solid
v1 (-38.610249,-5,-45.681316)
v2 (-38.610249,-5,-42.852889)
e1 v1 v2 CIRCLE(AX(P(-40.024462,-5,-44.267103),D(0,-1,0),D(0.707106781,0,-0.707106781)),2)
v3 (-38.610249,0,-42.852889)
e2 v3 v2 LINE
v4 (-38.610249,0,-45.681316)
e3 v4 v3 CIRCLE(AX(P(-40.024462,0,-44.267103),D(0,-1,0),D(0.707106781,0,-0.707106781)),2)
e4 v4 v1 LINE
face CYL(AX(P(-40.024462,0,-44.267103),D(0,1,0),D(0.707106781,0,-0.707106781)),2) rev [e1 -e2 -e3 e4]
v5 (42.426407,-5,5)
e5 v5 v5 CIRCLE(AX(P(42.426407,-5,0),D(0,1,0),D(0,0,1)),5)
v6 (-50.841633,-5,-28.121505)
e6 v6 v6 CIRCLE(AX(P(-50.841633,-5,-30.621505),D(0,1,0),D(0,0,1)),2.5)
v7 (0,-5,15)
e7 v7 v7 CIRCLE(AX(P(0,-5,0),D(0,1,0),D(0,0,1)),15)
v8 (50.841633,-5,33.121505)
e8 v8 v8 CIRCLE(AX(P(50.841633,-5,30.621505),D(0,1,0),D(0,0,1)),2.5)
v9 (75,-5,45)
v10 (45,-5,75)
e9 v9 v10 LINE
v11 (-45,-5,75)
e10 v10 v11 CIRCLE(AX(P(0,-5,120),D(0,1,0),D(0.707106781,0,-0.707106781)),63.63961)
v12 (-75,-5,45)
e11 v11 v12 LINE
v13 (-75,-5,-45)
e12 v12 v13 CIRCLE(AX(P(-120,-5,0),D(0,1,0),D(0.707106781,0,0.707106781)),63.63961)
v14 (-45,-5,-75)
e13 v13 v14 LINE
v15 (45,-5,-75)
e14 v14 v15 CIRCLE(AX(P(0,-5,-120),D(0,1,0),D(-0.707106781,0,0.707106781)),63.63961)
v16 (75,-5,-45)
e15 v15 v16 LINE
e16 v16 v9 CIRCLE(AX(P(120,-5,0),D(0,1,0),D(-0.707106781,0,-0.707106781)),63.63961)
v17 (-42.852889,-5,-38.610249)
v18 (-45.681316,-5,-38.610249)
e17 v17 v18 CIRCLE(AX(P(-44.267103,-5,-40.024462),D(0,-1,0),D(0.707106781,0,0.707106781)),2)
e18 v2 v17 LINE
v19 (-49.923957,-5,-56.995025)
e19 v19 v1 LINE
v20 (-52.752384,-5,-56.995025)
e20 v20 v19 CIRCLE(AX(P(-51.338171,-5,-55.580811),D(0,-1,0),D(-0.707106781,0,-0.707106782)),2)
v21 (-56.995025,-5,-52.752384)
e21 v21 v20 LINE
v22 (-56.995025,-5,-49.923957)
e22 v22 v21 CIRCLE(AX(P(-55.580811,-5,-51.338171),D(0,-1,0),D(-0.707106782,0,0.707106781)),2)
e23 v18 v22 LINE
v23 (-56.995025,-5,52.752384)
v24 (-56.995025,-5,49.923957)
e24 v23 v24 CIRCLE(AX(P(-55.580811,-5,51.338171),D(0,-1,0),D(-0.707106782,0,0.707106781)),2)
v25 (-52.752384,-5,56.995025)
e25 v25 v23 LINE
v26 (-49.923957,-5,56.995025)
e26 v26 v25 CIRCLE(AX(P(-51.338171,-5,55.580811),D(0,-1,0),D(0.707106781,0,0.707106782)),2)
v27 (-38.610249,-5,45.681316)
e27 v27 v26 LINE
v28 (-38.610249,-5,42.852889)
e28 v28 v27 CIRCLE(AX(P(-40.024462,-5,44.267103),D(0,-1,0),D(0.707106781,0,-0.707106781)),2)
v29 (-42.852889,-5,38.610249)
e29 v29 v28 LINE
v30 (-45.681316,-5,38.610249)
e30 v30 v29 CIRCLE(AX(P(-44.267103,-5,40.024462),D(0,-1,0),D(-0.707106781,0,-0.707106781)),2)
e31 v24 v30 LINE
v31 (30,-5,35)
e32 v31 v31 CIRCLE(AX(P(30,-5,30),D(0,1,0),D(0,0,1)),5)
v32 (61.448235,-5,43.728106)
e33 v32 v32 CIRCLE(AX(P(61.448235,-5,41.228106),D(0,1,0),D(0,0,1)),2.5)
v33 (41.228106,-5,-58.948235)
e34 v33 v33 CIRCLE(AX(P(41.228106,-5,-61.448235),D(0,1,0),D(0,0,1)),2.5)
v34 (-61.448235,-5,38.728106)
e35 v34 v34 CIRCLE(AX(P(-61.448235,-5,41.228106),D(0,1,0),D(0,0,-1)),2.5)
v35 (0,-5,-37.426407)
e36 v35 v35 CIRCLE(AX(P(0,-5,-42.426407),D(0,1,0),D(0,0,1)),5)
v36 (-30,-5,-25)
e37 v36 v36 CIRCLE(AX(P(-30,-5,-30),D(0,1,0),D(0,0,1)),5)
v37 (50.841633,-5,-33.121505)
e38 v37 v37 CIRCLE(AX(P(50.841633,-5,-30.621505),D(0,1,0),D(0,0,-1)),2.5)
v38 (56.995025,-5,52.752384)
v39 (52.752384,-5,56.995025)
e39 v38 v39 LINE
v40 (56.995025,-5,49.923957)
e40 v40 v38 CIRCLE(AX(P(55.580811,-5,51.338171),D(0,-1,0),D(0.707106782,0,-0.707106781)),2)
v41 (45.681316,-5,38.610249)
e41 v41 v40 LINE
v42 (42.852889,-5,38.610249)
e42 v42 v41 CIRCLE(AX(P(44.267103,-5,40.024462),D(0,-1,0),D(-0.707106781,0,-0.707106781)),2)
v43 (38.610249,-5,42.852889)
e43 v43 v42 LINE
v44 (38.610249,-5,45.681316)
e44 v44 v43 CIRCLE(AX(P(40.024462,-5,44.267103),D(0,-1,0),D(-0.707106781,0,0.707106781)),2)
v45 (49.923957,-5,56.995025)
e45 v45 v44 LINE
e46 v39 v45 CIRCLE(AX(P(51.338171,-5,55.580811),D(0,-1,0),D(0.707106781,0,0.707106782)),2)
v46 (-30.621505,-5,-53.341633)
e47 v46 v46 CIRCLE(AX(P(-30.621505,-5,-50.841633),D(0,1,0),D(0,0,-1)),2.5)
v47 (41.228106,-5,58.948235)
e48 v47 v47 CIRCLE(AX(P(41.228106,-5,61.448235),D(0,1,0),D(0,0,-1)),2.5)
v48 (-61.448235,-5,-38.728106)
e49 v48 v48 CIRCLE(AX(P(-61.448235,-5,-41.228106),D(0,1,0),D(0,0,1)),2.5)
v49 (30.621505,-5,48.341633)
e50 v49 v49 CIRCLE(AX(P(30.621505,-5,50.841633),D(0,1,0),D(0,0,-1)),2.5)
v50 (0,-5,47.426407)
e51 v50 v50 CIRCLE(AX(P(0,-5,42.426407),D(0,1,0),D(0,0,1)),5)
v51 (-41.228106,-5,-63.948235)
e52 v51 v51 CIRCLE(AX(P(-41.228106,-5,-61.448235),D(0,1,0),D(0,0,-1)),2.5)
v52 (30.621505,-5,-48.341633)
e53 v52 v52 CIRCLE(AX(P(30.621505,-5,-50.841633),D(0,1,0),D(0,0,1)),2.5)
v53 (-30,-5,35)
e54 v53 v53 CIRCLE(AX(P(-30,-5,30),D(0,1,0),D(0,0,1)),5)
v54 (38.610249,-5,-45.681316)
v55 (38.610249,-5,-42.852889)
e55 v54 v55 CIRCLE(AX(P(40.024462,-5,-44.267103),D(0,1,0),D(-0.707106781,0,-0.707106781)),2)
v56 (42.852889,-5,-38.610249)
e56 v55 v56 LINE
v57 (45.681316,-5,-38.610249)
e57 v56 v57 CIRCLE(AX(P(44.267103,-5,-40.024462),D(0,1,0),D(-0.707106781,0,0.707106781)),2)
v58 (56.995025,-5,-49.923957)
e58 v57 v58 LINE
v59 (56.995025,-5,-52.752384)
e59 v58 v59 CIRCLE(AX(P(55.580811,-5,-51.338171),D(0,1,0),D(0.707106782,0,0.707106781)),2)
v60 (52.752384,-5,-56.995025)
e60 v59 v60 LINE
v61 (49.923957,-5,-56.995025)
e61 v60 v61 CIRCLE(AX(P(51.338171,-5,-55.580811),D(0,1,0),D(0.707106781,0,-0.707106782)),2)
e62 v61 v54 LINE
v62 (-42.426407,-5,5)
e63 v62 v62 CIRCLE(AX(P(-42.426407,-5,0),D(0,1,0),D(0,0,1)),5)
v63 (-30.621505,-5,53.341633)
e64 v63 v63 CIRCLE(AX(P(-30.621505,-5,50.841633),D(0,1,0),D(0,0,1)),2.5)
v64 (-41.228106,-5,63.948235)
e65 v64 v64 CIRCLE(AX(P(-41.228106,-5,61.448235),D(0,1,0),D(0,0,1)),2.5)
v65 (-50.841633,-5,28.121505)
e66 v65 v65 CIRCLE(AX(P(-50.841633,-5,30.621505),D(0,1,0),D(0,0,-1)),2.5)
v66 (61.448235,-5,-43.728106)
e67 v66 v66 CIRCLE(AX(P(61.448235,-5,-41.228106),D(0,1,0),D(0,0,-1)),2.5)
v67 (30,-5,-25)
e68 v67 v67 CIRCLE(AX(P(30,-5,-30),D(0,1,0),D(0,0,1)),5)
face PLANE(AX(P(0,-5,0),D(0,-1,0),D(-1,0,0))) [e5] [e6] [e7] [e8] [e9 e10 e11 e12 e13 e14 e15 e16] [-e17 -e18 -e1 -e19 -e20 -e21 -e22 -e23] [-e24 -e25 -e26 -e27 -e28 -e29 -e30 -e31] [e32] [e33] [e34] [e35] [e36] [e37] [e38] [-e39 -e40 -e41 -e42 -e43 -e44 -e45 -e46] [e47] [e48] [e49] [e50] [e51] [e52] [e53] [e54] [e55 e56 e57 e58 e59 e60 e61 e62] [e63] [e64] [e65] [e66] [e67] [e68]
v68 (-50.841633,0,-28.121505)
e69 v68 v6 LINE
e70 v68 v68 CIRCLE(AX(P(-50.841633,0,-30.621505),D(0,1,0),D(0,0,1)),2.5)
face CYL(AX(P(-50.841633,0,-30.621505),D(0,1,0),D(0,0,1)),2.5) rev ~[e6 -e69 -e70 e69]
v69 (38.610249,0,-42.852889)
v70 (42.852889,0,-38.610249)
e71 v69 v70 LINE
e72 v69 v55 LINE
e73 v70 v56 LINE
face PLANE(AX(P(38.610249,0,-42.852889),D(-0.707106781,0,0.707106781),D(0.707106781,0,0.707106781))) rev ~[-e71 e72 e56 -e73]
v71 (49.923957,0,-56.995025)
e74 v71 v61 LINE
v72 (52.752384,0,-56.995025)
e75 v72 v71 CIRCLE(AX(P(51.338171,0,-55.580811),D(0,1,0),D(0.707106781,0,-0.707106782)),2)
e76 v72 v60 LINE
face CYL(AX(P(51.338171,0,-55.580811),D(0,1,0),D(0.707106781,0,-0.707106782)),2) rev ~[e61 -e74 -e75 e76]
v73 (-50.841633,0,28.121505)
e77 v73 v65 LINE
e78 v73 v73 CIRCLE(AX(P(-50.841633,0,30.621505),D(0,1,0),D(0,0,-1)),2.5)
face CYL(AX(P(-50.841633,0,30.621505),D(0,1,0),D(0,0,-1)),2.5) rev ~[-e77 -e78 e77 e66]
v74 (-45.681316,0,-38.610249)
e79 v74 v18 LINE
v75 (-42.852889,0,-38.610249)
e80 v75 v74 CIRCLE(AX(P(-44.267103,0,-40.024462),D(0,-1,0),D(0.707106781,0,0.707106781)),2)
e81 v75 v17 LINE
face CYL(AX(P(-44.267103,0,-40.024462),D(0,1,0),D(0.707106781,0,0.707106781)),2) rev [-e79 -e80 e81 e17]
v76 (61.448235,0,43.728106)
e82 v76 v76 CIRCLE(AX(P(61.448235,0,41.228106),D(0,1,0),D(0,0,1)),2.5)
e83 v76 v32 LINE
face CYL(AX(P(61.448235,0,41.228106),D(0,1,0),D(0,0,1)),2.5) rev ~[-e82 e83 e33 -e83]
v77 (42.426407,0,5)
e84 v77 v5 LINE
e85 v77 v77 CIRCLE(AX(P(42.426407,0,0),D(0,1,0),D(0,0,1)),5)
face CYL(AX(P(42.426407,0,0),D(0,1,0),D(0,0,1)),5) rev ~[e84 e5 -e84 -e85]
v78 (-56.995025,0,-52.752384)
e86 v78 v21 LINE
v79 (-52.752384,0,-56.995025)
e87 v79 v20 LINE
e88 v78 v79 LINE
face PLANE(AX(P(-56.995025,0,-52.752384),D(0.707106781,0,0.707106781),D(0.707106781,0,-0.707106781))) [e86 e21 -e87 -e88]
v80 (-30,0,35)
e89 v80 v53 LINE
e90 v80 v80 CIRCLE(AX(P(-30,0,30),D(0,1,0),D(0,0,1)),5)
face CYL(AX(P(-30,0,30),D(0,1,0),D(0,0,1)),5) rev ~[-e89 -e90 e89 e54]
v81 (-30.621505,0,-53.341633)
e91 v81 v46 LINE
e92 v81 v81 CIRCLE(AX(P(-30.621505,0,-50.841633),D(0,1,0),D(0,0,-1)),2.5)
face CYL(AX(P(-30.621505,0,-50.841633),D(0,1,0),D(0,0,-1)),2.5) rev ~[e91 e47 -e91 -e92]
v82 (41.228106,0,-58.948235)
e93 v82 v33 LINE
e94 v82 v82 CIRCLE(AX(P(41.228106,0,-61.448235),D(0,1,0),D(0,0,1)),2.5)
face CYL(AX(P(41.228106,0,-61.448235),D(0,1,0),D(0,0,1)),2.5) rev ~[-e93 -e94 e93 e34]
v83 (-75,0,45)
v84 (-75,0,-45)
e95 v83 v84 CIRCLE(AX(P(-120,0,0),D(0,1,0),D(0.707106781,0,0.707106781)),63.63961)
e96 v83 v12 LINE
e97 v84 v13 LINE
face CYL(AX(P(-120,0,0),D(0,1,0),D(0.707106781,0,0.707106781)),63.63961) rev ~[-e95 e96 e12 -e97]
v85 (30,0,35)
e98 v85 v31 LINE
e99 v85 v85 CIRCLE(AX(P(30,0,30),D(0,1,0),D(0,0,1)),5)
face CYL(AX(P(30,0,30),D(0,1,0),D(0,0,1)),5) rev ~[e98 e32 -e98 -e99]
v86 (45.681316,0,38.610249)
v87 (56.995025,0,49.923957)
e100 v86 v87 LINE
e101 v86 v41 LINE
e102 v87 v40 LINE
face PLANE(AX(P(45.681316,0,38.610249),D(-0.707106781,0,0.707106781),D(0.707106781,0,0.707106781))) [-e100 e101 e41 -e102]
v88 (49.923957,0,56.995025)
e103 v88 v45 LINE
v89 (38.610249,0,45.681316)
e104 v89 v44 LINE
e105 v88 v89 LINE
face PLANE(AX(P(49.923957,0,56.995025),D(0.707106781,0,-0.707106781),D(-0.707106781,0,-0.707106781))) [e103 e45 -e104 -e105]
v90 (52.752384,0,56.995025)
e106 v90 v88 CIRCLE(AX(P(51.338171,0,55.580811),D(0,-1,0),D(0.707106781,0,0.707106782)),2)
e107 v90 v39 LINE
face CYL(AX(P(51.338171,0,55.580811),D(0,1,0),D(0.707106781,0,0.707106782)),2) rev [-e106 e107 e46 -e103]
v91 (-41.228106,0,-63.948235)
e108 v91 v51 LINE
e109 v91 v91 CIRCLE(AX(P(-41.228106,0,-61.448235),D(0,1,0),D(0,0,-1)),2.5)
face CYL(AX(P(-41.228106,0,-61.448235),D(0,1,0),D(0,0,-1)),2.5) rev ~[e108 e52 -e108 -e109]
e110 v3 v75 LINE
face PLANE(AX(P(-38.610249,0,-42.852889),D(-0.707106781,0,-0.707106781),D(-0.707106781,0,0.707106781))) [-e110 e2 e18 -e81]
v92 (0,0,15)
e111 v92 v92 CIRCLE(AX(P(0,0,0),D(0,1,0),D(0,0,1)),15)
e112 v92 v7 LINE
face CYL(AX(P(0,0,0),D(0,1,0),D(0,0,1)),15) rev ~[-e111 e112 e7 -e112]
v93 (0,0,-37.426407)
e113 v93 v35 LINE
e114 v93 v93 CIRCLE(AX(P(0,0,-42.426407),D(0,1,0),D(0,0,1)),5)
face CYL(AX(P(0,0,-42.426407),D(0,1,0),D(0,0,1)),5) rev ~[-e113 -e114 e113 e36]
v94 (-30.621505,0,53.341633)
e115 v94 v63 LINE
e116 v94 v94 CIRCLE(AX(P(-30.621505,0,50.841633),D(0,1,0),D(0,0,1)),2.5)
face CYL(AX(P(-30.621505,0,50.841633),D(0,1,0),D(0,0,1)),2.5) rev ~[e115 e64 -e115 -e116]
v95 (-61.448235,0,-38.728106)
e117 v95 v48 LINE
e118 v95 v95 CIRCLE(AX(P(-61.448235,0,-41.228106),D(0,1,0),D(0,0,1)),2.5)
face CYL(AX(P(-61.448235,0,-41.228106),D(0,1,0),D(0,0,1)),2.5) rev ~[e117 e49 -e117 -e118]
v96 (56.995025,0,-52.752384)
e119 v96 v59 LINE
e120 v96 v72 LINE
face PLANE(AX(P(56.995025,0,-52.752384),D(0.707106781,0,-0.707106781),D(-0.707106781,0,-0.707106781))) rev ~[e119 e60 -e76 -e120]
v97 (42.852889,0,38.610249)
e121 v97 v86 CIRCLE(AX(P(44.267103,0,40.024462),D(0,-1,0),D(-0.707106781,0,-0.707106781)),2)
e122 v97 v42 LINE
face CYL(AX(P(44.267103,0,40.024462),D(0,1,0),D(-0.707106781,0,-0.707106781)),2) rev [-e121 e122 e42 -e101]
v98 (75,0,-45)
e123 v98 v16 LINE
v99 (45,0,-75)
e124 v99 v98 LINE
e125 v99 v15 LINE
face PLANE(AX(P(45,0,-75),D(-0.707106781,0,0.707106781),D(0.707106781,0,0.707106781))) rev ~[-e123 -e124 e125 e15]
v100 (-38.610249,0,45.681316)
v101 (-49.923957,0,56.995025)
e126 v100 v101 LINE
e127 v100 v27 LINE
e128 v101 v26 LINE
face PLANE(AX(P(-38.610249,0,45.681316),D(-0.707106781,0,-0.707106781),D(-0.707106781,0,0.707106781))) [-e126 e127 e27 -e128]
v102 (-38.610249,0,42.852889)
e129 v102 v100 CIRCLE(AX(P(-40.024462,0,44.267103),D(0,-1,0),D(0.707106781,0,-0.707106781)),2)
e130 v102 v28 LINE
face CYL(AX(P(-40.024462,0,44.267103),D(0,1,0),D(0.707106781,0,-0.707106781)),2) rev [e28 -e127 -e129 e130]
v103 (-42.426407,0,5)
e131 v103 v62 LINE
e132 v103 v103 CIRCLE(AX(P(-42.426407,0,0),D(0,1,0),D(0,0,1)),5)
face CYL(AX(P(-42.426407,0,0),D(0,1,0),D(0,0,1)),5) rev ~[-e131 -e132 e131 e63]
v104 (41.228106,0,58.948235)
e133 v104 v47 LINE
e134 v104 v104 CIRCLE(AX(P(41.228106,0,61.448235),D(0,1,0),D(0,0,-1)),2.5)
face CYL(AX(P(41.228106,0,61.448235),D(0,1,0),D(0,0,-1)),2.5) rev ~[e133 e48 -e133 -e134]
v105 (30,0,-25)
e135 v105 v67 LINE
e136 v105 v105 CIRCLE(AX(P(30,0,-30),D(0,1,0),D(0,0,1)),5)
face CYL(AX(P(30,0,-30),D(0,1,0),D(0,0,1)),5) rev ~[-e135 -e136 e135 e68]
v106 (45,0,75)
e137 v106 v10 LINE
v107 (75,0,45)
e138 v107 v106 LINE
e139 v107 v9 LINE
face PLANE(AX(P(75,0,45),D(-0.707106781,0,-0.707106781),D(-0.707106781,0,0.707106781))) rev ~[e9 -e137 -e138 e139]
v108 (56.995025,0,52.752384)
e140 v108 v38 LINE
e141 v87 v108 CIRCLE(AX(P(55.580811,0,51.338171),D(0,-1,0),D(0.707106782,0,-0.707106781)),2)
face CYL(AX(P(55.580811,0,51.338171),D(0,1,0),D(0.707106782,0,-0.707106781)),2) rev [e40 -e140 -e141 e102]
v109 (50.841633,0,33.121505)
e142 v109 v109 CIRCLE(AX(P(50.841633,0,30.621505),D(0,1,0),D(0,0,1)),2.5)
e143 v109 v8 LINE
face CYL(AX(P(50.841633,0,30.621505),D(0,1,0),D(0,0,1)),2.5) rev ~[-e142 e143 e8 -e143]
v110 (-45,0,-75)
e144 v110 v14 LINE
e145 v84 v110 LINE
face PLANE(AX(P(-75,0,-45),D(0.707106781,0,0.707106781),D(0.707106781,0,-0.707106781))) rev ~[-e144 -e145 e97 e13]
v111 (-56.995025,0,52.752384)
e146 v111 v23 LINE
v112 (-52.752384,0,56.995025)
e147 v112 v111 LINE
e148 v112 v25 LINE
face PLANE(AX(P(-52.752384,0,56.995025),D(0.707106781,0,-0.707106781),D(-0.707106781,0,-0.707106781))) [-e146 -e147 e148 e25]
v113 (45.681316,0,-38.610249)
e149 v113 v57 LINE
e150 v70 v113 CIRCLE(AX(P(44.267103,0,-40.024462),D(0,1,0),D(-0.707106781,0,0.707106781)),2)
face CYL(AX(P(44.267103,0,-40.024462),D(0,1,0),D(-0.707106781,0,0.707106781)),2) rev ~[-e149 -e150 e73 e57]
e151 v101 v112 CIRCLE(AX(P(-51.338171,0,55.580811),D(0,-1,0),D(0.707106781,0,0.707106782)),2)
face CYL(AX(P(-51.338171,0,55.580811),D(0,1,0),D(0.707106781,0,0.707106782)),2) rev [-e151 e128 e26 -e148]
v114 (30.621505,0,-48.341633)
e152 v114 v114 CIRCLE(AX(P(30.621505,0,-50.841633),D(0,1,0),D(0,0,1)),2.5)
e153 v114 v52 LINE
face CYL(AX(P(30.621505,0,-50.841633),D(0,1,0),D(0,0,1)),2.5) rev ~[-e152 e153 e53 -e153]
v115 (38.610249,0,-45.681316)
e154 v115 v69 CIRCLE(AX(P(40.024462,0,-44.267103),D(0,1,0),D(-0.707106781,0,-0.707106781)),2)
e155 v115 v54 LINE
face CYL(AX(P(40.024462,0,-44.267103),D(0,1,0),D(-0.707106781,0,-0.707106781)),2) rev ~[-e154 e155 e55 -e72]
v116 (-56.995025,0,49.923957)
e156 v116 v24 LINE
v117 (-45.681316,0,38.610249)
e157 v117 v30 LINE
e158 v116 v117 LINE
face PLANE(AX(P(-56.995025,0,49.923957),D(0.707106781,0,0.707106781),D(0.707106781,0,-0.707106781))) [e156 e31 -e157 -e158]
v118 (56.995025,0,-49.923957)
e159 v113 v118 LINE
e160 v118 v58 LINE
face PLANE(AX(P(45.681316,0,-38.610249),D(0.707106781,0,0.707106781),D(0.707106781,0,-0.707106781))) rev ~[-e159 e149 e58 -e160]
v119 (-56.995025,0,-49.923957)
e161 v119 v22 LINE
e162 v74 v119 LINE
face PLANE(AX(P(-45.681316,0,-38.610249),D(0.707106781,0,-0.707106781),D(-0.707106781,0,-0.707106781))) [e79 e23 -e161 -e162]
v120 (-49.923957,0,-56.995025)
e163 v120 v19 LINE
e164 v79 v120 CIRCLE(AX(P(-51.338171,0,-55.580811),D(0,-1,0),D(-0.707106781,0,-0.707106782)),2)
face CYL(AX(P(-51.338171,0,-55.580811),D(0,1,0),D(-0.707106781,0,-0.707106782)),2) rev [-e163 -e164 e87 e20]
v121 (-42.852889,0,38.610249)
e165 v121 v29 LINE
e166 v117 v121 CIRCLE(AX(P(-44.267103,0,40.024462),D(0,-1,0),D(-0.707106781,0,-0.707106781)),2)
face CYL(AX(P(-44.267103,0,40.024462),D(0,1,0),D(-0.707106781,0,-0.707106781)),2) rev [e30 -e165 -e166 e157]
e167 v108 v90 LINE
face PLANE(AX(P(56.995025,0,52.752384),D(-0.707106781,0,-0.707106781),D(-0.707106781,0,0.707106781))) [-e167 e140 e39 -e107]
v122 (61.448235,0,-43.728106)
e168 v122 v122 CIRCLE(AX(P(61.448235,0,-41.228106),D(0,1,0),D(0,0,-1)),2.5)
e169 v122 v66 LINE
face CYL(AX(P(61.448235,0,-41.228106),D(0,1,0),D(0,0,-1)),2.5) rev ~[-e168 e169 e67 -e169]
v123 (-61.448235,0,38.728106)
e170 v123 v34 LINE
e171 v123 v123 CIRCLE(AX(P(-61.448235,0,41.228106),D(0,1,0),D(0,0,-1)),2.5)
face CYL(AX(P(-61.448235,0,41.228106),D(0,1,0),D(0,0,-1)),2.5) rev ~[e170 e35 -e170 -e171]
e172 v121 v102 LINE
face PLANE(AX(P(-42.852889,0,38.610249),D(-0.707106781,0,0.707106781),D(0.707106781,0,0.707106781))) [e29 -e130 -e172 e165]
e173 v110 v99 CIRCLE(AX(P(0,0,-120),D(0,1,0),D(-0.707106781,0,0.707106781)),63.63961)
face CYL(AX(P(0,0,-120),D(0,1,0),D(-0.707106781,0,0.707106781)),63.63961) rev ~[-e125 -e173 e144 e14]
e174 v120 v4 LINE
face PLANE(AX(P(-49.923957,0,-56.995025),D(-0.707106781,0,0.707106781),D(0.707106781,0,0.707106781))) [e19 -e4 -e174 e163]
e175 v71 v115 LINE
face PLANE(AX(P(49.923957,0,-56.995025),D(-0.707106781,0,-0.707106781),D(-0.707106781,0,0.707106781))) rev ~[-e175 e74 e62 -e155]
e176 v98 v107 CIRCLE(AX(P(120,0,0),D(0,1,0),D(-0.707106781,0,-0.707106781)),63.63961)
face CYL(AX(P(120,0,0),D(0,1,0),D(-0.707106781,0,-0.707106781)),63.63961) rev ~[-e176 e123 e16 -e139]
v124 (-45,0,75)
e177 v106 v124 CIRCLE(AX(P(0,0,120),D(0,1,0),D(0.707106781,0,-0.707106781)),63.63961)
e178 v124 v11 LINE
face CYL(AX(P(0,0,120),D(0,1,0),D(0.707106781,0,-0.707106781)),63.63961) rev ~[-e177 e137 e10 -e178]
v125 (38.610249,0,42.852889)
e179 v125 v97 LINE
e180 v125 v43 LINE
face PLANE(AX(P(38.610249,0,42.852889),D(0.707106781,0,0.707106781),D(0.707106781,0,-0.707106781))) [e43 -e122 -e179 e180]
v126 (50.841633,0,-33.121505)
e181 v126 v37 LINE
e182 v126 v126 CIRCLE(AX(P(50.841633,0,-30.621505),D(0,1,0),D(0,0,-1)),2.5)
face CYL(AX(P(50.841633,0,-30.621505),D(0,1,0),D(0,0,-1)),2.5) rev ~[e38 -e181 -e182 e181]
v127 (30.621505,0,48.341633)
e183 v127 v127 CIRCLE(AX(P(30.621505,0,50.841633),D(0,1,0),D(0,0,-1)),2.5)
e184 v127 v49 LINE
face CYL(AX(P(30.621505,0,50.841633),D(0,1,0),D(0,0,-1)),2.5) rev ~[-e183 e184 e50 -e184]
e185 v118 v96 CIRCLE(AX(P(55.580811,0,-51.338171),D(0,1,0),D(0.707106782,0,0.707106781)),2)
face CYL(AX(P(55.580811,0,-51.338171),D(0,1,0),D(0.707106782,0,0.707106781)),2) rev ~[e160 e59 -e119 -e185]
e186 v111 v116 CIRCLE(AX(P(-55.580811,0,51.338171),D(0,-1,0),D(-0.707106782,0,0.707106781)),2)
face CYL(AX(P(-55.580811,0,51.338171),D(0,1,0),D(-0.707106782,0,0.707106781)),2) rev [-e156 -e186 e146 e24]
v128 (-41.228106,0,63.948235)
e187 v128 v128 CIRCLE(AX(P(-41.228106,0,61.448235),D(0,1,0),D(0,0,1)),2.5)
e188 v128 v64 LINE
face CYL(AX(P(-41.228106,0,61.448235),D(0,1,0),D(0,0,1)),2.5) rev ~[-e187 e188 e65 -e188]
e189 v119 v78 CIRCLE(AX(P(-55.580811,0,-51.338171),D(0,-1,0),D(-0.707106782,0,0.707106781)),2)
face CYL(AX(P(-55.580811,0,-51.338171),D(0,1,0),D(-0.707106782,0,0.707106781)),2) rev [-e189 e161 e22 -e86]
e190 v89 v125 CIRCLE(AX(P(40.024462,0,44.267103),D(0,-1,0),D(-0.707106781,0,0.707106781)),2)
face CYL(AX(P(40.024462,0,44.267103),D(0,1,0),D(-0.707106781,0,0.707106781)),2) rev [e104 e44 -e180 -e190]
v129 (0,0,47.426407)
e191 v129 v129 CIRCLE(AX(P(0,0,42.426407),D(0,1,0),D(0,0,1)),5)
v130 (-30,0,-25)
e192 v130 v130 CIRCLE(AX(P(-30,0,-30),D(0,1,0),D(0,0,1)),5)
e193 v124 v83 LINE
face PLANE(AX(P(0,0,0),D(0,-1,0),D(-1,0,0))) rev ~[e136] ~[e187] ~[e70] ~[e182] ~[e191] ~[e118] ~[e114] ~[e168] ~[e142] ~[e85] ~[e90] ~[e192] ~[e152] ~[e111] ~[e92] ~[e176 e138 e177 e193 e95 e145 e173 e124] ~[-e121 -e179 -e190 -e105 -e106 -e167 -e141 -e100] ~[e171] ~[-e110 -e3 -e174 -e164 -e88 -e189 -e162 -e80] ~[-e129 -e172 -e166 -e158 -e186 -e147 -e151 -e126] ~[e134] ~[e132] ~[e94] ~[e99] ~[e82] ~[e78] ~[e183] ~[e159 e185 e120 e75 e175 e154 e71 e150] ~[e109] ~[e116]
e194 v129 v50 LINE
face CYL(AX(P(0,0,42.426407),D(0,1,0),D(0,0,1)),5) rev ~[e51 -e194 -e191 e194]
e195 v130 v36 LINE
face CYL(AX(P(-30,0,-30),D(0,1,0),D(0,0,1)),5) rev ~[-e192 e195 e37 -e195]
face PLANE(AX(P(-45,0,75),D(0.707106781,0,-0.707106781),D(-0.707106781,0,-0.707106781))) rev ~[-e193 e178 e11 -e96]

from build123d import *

# Parameters (mm, degrees)
SKETCH2_R           = 15
SKETCH2_R_2         = 5
SKETCH2_R_3         = 2.5
BOSS_EXTRUDE1_DEPTH = 5


with BuildPart() as part:
    # Sketch2 → Boss-Extrude1 (new body)
    with BuildSketch(Plane(origin=(0, 0, 0), x_dir=(1, 0, 0), z_dir=(0, 1, 0))):
        with BuildLine():
            Line((45, 75), (75, 45))
            ThreePointArc((75, 45), (56.360389693, 0), (75, -45))
            Line((75, -45), (45, -75))
            ThreePointArc((45, -75), (0, -56.360389693), (-45, -75))
            Line((-45, -75), (-75, -45))
            ThreePointArc((-75, -45), (-56.360389693, 0), (-75, 45))
            Line((-75, 45), (-45, 75))
            ThreePointArc((-45, 75), (0, 56.360389693), (45, 75))
        make_face()
        with Locations(Location((0, 0, 0), (0, 0, 270))):
            Circle(SKETCH2_R, mode=Mode.SUBTRACT)
        with Locations(Location((30, 30, 0), (0, 0, 270))):
            Circle(SKETCH2_R_2, mode=Mode.SUBTRACT)
        with Locations(Location((42.426406871, 0, 0), (0, 0, 270))):
            Circle(SKETCH2_R_2, mode=Mode.SUBTRACT)
        with Locations(Location((30, -30, 0), (0, 0, 270))):
            Circle(SKETCH2_R_2, mode=Mode.SUBTRACT)
        with Locations(Location((0, -42.426406871, 0), (0, 0, 270))):
            Circle(SKETCH2_R_2, mode=Mode.SUBTRACT)
        with Locations(Location((-30, -30, 0), (0, 0, 270))):
            Circle(SKETCH2_R_2, mode=Mode.SUBTRACT)
        with Locations(Location((-42.426406871, 0, 0), (0, 0, 270))):
            Circle(SKETCH2_R_2, mode=Mode.SUBTRACT)
        with Locations(Location((-30, 30, 0), (0, 0, 270))):
            Circle(SKETCH2_R_2, mode=Mode.SUBTRACT)
        with Locations(Location((0, 42.426406871, 0), (0, 0, 270))):
            Circle(SKETCH2_R_2, mode=Mode.SUBTRACT)
        with Locations(Location((41.228106405, 61.448235065, 0), (0, 0, 270))):
            Circle(SKETCH2_R_3, mode=Mode.SUBTRACT)
        with Locations(Location((30.621504688, 50.841633347, 0), (0, 0, 270))):
            Circle(SKETCH2_R_3, mode=Mode.SUBTRACT)
        with Locations(Location((61.448235065, 41.228106405, 0), (0, 0, 90))):
            Circle(SKETCH2_R_3, mode=Mode.SUBTRACT)
        with Locations(Location((50.841633347, 30.621504688, 0), (0, 0, 90))):
            Circle(SKETCH2_R_3, mode=Mode.SUBTRACT)
        with Locations(Location((61.448235065, -41.228106405, 0), (0, 0, 270))):
            Circle(SKETCH2_R_3, mode=Mode.SUBTRACT)
        with Locations(Location((50.841633347, -30.621504688, 0), (0, 0, 270))):
            Circle(SKETCH2_R_3, mode=Mode.SUBTRACT)
        with Locations(Location((41.228106405, -61.448235065, 0), (0, 0, 90))):
            Circle(SKETCH2_R_3, mode=Mode.SUBTRACT)
        with Locations(Location((30.621504688, -50.841633347, 0), (0, 0, 90))):
            Circle(SKETCH2_R_3, mode=Mode.SUBTRACT)
        with Locations(Location((-41.228106405, -61.448235065, 0), (0, 0, 270))):
            Circle(SKETCH2_R_3, mode=Mode.SUBTRACT)
        with Locations(Location((-30.621504688, -50.841633347, 0), (0, 0, 270))):
            Circle(SKETCH2_R_3, mode=Mode.SUBTRACT)
        with Locations(Location((-61.448235065, -41.228106405, 0), (0, 0, 90))):
            Circle(SKETCH2_R_3, mode=Mode.SUBTRACT)
        with Locations(Location((-50.841633347, -30.621504688, 0), (0, 0, 90))):
            Circle(SKETCH2_R_3, mode=Mode.SUBTRACT)
        with Locations(Location((-61.448235065, 41.228106405, 0), (0, 0, 270))):
            Circle(SKETCH2_R_3, mode=Mode.SUBTRACT)
        with Locations(Location((-50.841633347, 30.621504688, 0), (0, 0, 270))):
            Circle(SKETCH2_R_3, mode=Mode.SUBTRACT)
        with Locations(Location((-41.228106405, 61.448235065, 0), (0, 0, 90))):
            Circle(SKETCH2_R_3, mode=Mode.SUBTRACT)
        with Locations(Location((-30.621504688, 50.841633347, 0), (0, 0, 90))):
            Circle(SKETCH2_R_3, mode=Mode.SUBTRACT)
        with BuildLine():
            Line((38.610248674, 42.852889361), (42.852889361, 38.610248674))
            ThreePointArc((42.852889361, 38.610248674), (44.267102923, 38.024462236), (45.681316486, 38.610248674))
            Line((45.681316486, 38.610248674), (56.995024985, 49.923957173))
            ThreePointArc((56.995024985, 49.923957173), (57.580811422, 51.338170735), (56.995024985, 52.752384297))
            Line((56.995024985, 52.752384297), (52.752384297, 56.995024985))
            ThreePointArc((52.752384297, 56.995024985), (51.338170735, 57.580811422), (49.923957173, 56.995024985))
            Line((49.923957173, 56.995024985), (38.610248674, 45.681316486))
            ThreePointArc((38.610248674, 45.681316486), (38.024462236, 44.267102923), (38.610248674, 42.852889361))
        make_face(mode=Mode.SUBTRACT)
        with BuildLine():
            Line((45.681316486, -38.610248674), (56.995024985, -49.923957173))
            ThreePointArc((56.995024985, -49.923957173), (57.580811422, -51.338170735), (56.995024985, -52.752384297))
            Line((56.995024985, -52.752384297), (52.752384297, -56.995024985))
            ThreePointArc((52.752384297, -56.995024985), (51.338170735, -57.580811422), (49.923957173, -56.995024985))
            Line((49.923957173, -56.995024985), (38.610248674, -45.681316486))
            ThreePointArc((38.610248674, -45.681316486), (38.024462236, -44.267102923), (38.610248674, -42.852889361))
            Line((38.610248674, -42.852889361), (42.852889361, -38.610248674))
            ThreePointArc((42.852889361, -38.610248674), (44.267102923, -38.024462236), (45.681316486, -38.610248674))
        make_face(mode=Mode.SUBTRACT)
        with BuildLine():
            Line((-38.610248674, -45.681316486), (-49.923957173, -56.995024985))
            ThreePointArc((-49.923957173, -56.995024985), (-51.338170735, -57.580811422), (-52.752384297, -56.995024985))
            Line((-52.752384297, -56.995024985), (-56.995024985, -52.752384297))
            ThreePointArc((-56.995024985, -52.752384297), (-57.580811422, -51.338170735), (-56.995024985, -49.923957173))
            Line((-56.995024985, -49.923957173), (-45.681316486, -38.610248674))
            ThreePointArc((-45.681316486, -38.610248674), (-44.267102923, -38.024462236), (-42.852889361, -38.610248674))
            Line((-42.852889361, -38.610248674), (-38.610248674, -42.852889361))
            ThreePointArc((-38.610248674, -42.852889361), (-38.024462236, -44.267102923), (-38.610248674, -45.681316486))
        make_face(mode=Mode.SUBTRACT)
        with BuildLine():
            Line((-45.681316486, 38.610248674), (-56.995024985, 49.923957173))
            ThreePointArc((-56.995024985, 49.923957173), (-57.580811422, 51.338170735), (-56.995024985, 52.752384297))
            Line((-56.995024985, 52.752384297), (-52.752384297, 56.995024985))
            ThreePointArc((-52.752384297, 56.995024985), (-51.338170735, 57.580811422), (-49.923957173, 56.995024985))
            Line((-49.923957173, 56.995024985), (-38.610248674, 45.681316486))
            ThreePointArc((-38.610248674, 45.681316486), (-38.024462236, 44.267102923), (-38.610248674, 42.852889361))
            Line((-38.610248674, 42.852889361), (-42.852889361, 38.610248674))
            ThreePointArc((-42.852889361, 38.610248674), (-44.267102923, 38.024462236), (-45.681316486, 38.610248674))
        make_face(mode=Mode.SUBTRACT)
    extrude(amount=-BOSS_EXTRUDE1_DEPTH)


solid = part.part
